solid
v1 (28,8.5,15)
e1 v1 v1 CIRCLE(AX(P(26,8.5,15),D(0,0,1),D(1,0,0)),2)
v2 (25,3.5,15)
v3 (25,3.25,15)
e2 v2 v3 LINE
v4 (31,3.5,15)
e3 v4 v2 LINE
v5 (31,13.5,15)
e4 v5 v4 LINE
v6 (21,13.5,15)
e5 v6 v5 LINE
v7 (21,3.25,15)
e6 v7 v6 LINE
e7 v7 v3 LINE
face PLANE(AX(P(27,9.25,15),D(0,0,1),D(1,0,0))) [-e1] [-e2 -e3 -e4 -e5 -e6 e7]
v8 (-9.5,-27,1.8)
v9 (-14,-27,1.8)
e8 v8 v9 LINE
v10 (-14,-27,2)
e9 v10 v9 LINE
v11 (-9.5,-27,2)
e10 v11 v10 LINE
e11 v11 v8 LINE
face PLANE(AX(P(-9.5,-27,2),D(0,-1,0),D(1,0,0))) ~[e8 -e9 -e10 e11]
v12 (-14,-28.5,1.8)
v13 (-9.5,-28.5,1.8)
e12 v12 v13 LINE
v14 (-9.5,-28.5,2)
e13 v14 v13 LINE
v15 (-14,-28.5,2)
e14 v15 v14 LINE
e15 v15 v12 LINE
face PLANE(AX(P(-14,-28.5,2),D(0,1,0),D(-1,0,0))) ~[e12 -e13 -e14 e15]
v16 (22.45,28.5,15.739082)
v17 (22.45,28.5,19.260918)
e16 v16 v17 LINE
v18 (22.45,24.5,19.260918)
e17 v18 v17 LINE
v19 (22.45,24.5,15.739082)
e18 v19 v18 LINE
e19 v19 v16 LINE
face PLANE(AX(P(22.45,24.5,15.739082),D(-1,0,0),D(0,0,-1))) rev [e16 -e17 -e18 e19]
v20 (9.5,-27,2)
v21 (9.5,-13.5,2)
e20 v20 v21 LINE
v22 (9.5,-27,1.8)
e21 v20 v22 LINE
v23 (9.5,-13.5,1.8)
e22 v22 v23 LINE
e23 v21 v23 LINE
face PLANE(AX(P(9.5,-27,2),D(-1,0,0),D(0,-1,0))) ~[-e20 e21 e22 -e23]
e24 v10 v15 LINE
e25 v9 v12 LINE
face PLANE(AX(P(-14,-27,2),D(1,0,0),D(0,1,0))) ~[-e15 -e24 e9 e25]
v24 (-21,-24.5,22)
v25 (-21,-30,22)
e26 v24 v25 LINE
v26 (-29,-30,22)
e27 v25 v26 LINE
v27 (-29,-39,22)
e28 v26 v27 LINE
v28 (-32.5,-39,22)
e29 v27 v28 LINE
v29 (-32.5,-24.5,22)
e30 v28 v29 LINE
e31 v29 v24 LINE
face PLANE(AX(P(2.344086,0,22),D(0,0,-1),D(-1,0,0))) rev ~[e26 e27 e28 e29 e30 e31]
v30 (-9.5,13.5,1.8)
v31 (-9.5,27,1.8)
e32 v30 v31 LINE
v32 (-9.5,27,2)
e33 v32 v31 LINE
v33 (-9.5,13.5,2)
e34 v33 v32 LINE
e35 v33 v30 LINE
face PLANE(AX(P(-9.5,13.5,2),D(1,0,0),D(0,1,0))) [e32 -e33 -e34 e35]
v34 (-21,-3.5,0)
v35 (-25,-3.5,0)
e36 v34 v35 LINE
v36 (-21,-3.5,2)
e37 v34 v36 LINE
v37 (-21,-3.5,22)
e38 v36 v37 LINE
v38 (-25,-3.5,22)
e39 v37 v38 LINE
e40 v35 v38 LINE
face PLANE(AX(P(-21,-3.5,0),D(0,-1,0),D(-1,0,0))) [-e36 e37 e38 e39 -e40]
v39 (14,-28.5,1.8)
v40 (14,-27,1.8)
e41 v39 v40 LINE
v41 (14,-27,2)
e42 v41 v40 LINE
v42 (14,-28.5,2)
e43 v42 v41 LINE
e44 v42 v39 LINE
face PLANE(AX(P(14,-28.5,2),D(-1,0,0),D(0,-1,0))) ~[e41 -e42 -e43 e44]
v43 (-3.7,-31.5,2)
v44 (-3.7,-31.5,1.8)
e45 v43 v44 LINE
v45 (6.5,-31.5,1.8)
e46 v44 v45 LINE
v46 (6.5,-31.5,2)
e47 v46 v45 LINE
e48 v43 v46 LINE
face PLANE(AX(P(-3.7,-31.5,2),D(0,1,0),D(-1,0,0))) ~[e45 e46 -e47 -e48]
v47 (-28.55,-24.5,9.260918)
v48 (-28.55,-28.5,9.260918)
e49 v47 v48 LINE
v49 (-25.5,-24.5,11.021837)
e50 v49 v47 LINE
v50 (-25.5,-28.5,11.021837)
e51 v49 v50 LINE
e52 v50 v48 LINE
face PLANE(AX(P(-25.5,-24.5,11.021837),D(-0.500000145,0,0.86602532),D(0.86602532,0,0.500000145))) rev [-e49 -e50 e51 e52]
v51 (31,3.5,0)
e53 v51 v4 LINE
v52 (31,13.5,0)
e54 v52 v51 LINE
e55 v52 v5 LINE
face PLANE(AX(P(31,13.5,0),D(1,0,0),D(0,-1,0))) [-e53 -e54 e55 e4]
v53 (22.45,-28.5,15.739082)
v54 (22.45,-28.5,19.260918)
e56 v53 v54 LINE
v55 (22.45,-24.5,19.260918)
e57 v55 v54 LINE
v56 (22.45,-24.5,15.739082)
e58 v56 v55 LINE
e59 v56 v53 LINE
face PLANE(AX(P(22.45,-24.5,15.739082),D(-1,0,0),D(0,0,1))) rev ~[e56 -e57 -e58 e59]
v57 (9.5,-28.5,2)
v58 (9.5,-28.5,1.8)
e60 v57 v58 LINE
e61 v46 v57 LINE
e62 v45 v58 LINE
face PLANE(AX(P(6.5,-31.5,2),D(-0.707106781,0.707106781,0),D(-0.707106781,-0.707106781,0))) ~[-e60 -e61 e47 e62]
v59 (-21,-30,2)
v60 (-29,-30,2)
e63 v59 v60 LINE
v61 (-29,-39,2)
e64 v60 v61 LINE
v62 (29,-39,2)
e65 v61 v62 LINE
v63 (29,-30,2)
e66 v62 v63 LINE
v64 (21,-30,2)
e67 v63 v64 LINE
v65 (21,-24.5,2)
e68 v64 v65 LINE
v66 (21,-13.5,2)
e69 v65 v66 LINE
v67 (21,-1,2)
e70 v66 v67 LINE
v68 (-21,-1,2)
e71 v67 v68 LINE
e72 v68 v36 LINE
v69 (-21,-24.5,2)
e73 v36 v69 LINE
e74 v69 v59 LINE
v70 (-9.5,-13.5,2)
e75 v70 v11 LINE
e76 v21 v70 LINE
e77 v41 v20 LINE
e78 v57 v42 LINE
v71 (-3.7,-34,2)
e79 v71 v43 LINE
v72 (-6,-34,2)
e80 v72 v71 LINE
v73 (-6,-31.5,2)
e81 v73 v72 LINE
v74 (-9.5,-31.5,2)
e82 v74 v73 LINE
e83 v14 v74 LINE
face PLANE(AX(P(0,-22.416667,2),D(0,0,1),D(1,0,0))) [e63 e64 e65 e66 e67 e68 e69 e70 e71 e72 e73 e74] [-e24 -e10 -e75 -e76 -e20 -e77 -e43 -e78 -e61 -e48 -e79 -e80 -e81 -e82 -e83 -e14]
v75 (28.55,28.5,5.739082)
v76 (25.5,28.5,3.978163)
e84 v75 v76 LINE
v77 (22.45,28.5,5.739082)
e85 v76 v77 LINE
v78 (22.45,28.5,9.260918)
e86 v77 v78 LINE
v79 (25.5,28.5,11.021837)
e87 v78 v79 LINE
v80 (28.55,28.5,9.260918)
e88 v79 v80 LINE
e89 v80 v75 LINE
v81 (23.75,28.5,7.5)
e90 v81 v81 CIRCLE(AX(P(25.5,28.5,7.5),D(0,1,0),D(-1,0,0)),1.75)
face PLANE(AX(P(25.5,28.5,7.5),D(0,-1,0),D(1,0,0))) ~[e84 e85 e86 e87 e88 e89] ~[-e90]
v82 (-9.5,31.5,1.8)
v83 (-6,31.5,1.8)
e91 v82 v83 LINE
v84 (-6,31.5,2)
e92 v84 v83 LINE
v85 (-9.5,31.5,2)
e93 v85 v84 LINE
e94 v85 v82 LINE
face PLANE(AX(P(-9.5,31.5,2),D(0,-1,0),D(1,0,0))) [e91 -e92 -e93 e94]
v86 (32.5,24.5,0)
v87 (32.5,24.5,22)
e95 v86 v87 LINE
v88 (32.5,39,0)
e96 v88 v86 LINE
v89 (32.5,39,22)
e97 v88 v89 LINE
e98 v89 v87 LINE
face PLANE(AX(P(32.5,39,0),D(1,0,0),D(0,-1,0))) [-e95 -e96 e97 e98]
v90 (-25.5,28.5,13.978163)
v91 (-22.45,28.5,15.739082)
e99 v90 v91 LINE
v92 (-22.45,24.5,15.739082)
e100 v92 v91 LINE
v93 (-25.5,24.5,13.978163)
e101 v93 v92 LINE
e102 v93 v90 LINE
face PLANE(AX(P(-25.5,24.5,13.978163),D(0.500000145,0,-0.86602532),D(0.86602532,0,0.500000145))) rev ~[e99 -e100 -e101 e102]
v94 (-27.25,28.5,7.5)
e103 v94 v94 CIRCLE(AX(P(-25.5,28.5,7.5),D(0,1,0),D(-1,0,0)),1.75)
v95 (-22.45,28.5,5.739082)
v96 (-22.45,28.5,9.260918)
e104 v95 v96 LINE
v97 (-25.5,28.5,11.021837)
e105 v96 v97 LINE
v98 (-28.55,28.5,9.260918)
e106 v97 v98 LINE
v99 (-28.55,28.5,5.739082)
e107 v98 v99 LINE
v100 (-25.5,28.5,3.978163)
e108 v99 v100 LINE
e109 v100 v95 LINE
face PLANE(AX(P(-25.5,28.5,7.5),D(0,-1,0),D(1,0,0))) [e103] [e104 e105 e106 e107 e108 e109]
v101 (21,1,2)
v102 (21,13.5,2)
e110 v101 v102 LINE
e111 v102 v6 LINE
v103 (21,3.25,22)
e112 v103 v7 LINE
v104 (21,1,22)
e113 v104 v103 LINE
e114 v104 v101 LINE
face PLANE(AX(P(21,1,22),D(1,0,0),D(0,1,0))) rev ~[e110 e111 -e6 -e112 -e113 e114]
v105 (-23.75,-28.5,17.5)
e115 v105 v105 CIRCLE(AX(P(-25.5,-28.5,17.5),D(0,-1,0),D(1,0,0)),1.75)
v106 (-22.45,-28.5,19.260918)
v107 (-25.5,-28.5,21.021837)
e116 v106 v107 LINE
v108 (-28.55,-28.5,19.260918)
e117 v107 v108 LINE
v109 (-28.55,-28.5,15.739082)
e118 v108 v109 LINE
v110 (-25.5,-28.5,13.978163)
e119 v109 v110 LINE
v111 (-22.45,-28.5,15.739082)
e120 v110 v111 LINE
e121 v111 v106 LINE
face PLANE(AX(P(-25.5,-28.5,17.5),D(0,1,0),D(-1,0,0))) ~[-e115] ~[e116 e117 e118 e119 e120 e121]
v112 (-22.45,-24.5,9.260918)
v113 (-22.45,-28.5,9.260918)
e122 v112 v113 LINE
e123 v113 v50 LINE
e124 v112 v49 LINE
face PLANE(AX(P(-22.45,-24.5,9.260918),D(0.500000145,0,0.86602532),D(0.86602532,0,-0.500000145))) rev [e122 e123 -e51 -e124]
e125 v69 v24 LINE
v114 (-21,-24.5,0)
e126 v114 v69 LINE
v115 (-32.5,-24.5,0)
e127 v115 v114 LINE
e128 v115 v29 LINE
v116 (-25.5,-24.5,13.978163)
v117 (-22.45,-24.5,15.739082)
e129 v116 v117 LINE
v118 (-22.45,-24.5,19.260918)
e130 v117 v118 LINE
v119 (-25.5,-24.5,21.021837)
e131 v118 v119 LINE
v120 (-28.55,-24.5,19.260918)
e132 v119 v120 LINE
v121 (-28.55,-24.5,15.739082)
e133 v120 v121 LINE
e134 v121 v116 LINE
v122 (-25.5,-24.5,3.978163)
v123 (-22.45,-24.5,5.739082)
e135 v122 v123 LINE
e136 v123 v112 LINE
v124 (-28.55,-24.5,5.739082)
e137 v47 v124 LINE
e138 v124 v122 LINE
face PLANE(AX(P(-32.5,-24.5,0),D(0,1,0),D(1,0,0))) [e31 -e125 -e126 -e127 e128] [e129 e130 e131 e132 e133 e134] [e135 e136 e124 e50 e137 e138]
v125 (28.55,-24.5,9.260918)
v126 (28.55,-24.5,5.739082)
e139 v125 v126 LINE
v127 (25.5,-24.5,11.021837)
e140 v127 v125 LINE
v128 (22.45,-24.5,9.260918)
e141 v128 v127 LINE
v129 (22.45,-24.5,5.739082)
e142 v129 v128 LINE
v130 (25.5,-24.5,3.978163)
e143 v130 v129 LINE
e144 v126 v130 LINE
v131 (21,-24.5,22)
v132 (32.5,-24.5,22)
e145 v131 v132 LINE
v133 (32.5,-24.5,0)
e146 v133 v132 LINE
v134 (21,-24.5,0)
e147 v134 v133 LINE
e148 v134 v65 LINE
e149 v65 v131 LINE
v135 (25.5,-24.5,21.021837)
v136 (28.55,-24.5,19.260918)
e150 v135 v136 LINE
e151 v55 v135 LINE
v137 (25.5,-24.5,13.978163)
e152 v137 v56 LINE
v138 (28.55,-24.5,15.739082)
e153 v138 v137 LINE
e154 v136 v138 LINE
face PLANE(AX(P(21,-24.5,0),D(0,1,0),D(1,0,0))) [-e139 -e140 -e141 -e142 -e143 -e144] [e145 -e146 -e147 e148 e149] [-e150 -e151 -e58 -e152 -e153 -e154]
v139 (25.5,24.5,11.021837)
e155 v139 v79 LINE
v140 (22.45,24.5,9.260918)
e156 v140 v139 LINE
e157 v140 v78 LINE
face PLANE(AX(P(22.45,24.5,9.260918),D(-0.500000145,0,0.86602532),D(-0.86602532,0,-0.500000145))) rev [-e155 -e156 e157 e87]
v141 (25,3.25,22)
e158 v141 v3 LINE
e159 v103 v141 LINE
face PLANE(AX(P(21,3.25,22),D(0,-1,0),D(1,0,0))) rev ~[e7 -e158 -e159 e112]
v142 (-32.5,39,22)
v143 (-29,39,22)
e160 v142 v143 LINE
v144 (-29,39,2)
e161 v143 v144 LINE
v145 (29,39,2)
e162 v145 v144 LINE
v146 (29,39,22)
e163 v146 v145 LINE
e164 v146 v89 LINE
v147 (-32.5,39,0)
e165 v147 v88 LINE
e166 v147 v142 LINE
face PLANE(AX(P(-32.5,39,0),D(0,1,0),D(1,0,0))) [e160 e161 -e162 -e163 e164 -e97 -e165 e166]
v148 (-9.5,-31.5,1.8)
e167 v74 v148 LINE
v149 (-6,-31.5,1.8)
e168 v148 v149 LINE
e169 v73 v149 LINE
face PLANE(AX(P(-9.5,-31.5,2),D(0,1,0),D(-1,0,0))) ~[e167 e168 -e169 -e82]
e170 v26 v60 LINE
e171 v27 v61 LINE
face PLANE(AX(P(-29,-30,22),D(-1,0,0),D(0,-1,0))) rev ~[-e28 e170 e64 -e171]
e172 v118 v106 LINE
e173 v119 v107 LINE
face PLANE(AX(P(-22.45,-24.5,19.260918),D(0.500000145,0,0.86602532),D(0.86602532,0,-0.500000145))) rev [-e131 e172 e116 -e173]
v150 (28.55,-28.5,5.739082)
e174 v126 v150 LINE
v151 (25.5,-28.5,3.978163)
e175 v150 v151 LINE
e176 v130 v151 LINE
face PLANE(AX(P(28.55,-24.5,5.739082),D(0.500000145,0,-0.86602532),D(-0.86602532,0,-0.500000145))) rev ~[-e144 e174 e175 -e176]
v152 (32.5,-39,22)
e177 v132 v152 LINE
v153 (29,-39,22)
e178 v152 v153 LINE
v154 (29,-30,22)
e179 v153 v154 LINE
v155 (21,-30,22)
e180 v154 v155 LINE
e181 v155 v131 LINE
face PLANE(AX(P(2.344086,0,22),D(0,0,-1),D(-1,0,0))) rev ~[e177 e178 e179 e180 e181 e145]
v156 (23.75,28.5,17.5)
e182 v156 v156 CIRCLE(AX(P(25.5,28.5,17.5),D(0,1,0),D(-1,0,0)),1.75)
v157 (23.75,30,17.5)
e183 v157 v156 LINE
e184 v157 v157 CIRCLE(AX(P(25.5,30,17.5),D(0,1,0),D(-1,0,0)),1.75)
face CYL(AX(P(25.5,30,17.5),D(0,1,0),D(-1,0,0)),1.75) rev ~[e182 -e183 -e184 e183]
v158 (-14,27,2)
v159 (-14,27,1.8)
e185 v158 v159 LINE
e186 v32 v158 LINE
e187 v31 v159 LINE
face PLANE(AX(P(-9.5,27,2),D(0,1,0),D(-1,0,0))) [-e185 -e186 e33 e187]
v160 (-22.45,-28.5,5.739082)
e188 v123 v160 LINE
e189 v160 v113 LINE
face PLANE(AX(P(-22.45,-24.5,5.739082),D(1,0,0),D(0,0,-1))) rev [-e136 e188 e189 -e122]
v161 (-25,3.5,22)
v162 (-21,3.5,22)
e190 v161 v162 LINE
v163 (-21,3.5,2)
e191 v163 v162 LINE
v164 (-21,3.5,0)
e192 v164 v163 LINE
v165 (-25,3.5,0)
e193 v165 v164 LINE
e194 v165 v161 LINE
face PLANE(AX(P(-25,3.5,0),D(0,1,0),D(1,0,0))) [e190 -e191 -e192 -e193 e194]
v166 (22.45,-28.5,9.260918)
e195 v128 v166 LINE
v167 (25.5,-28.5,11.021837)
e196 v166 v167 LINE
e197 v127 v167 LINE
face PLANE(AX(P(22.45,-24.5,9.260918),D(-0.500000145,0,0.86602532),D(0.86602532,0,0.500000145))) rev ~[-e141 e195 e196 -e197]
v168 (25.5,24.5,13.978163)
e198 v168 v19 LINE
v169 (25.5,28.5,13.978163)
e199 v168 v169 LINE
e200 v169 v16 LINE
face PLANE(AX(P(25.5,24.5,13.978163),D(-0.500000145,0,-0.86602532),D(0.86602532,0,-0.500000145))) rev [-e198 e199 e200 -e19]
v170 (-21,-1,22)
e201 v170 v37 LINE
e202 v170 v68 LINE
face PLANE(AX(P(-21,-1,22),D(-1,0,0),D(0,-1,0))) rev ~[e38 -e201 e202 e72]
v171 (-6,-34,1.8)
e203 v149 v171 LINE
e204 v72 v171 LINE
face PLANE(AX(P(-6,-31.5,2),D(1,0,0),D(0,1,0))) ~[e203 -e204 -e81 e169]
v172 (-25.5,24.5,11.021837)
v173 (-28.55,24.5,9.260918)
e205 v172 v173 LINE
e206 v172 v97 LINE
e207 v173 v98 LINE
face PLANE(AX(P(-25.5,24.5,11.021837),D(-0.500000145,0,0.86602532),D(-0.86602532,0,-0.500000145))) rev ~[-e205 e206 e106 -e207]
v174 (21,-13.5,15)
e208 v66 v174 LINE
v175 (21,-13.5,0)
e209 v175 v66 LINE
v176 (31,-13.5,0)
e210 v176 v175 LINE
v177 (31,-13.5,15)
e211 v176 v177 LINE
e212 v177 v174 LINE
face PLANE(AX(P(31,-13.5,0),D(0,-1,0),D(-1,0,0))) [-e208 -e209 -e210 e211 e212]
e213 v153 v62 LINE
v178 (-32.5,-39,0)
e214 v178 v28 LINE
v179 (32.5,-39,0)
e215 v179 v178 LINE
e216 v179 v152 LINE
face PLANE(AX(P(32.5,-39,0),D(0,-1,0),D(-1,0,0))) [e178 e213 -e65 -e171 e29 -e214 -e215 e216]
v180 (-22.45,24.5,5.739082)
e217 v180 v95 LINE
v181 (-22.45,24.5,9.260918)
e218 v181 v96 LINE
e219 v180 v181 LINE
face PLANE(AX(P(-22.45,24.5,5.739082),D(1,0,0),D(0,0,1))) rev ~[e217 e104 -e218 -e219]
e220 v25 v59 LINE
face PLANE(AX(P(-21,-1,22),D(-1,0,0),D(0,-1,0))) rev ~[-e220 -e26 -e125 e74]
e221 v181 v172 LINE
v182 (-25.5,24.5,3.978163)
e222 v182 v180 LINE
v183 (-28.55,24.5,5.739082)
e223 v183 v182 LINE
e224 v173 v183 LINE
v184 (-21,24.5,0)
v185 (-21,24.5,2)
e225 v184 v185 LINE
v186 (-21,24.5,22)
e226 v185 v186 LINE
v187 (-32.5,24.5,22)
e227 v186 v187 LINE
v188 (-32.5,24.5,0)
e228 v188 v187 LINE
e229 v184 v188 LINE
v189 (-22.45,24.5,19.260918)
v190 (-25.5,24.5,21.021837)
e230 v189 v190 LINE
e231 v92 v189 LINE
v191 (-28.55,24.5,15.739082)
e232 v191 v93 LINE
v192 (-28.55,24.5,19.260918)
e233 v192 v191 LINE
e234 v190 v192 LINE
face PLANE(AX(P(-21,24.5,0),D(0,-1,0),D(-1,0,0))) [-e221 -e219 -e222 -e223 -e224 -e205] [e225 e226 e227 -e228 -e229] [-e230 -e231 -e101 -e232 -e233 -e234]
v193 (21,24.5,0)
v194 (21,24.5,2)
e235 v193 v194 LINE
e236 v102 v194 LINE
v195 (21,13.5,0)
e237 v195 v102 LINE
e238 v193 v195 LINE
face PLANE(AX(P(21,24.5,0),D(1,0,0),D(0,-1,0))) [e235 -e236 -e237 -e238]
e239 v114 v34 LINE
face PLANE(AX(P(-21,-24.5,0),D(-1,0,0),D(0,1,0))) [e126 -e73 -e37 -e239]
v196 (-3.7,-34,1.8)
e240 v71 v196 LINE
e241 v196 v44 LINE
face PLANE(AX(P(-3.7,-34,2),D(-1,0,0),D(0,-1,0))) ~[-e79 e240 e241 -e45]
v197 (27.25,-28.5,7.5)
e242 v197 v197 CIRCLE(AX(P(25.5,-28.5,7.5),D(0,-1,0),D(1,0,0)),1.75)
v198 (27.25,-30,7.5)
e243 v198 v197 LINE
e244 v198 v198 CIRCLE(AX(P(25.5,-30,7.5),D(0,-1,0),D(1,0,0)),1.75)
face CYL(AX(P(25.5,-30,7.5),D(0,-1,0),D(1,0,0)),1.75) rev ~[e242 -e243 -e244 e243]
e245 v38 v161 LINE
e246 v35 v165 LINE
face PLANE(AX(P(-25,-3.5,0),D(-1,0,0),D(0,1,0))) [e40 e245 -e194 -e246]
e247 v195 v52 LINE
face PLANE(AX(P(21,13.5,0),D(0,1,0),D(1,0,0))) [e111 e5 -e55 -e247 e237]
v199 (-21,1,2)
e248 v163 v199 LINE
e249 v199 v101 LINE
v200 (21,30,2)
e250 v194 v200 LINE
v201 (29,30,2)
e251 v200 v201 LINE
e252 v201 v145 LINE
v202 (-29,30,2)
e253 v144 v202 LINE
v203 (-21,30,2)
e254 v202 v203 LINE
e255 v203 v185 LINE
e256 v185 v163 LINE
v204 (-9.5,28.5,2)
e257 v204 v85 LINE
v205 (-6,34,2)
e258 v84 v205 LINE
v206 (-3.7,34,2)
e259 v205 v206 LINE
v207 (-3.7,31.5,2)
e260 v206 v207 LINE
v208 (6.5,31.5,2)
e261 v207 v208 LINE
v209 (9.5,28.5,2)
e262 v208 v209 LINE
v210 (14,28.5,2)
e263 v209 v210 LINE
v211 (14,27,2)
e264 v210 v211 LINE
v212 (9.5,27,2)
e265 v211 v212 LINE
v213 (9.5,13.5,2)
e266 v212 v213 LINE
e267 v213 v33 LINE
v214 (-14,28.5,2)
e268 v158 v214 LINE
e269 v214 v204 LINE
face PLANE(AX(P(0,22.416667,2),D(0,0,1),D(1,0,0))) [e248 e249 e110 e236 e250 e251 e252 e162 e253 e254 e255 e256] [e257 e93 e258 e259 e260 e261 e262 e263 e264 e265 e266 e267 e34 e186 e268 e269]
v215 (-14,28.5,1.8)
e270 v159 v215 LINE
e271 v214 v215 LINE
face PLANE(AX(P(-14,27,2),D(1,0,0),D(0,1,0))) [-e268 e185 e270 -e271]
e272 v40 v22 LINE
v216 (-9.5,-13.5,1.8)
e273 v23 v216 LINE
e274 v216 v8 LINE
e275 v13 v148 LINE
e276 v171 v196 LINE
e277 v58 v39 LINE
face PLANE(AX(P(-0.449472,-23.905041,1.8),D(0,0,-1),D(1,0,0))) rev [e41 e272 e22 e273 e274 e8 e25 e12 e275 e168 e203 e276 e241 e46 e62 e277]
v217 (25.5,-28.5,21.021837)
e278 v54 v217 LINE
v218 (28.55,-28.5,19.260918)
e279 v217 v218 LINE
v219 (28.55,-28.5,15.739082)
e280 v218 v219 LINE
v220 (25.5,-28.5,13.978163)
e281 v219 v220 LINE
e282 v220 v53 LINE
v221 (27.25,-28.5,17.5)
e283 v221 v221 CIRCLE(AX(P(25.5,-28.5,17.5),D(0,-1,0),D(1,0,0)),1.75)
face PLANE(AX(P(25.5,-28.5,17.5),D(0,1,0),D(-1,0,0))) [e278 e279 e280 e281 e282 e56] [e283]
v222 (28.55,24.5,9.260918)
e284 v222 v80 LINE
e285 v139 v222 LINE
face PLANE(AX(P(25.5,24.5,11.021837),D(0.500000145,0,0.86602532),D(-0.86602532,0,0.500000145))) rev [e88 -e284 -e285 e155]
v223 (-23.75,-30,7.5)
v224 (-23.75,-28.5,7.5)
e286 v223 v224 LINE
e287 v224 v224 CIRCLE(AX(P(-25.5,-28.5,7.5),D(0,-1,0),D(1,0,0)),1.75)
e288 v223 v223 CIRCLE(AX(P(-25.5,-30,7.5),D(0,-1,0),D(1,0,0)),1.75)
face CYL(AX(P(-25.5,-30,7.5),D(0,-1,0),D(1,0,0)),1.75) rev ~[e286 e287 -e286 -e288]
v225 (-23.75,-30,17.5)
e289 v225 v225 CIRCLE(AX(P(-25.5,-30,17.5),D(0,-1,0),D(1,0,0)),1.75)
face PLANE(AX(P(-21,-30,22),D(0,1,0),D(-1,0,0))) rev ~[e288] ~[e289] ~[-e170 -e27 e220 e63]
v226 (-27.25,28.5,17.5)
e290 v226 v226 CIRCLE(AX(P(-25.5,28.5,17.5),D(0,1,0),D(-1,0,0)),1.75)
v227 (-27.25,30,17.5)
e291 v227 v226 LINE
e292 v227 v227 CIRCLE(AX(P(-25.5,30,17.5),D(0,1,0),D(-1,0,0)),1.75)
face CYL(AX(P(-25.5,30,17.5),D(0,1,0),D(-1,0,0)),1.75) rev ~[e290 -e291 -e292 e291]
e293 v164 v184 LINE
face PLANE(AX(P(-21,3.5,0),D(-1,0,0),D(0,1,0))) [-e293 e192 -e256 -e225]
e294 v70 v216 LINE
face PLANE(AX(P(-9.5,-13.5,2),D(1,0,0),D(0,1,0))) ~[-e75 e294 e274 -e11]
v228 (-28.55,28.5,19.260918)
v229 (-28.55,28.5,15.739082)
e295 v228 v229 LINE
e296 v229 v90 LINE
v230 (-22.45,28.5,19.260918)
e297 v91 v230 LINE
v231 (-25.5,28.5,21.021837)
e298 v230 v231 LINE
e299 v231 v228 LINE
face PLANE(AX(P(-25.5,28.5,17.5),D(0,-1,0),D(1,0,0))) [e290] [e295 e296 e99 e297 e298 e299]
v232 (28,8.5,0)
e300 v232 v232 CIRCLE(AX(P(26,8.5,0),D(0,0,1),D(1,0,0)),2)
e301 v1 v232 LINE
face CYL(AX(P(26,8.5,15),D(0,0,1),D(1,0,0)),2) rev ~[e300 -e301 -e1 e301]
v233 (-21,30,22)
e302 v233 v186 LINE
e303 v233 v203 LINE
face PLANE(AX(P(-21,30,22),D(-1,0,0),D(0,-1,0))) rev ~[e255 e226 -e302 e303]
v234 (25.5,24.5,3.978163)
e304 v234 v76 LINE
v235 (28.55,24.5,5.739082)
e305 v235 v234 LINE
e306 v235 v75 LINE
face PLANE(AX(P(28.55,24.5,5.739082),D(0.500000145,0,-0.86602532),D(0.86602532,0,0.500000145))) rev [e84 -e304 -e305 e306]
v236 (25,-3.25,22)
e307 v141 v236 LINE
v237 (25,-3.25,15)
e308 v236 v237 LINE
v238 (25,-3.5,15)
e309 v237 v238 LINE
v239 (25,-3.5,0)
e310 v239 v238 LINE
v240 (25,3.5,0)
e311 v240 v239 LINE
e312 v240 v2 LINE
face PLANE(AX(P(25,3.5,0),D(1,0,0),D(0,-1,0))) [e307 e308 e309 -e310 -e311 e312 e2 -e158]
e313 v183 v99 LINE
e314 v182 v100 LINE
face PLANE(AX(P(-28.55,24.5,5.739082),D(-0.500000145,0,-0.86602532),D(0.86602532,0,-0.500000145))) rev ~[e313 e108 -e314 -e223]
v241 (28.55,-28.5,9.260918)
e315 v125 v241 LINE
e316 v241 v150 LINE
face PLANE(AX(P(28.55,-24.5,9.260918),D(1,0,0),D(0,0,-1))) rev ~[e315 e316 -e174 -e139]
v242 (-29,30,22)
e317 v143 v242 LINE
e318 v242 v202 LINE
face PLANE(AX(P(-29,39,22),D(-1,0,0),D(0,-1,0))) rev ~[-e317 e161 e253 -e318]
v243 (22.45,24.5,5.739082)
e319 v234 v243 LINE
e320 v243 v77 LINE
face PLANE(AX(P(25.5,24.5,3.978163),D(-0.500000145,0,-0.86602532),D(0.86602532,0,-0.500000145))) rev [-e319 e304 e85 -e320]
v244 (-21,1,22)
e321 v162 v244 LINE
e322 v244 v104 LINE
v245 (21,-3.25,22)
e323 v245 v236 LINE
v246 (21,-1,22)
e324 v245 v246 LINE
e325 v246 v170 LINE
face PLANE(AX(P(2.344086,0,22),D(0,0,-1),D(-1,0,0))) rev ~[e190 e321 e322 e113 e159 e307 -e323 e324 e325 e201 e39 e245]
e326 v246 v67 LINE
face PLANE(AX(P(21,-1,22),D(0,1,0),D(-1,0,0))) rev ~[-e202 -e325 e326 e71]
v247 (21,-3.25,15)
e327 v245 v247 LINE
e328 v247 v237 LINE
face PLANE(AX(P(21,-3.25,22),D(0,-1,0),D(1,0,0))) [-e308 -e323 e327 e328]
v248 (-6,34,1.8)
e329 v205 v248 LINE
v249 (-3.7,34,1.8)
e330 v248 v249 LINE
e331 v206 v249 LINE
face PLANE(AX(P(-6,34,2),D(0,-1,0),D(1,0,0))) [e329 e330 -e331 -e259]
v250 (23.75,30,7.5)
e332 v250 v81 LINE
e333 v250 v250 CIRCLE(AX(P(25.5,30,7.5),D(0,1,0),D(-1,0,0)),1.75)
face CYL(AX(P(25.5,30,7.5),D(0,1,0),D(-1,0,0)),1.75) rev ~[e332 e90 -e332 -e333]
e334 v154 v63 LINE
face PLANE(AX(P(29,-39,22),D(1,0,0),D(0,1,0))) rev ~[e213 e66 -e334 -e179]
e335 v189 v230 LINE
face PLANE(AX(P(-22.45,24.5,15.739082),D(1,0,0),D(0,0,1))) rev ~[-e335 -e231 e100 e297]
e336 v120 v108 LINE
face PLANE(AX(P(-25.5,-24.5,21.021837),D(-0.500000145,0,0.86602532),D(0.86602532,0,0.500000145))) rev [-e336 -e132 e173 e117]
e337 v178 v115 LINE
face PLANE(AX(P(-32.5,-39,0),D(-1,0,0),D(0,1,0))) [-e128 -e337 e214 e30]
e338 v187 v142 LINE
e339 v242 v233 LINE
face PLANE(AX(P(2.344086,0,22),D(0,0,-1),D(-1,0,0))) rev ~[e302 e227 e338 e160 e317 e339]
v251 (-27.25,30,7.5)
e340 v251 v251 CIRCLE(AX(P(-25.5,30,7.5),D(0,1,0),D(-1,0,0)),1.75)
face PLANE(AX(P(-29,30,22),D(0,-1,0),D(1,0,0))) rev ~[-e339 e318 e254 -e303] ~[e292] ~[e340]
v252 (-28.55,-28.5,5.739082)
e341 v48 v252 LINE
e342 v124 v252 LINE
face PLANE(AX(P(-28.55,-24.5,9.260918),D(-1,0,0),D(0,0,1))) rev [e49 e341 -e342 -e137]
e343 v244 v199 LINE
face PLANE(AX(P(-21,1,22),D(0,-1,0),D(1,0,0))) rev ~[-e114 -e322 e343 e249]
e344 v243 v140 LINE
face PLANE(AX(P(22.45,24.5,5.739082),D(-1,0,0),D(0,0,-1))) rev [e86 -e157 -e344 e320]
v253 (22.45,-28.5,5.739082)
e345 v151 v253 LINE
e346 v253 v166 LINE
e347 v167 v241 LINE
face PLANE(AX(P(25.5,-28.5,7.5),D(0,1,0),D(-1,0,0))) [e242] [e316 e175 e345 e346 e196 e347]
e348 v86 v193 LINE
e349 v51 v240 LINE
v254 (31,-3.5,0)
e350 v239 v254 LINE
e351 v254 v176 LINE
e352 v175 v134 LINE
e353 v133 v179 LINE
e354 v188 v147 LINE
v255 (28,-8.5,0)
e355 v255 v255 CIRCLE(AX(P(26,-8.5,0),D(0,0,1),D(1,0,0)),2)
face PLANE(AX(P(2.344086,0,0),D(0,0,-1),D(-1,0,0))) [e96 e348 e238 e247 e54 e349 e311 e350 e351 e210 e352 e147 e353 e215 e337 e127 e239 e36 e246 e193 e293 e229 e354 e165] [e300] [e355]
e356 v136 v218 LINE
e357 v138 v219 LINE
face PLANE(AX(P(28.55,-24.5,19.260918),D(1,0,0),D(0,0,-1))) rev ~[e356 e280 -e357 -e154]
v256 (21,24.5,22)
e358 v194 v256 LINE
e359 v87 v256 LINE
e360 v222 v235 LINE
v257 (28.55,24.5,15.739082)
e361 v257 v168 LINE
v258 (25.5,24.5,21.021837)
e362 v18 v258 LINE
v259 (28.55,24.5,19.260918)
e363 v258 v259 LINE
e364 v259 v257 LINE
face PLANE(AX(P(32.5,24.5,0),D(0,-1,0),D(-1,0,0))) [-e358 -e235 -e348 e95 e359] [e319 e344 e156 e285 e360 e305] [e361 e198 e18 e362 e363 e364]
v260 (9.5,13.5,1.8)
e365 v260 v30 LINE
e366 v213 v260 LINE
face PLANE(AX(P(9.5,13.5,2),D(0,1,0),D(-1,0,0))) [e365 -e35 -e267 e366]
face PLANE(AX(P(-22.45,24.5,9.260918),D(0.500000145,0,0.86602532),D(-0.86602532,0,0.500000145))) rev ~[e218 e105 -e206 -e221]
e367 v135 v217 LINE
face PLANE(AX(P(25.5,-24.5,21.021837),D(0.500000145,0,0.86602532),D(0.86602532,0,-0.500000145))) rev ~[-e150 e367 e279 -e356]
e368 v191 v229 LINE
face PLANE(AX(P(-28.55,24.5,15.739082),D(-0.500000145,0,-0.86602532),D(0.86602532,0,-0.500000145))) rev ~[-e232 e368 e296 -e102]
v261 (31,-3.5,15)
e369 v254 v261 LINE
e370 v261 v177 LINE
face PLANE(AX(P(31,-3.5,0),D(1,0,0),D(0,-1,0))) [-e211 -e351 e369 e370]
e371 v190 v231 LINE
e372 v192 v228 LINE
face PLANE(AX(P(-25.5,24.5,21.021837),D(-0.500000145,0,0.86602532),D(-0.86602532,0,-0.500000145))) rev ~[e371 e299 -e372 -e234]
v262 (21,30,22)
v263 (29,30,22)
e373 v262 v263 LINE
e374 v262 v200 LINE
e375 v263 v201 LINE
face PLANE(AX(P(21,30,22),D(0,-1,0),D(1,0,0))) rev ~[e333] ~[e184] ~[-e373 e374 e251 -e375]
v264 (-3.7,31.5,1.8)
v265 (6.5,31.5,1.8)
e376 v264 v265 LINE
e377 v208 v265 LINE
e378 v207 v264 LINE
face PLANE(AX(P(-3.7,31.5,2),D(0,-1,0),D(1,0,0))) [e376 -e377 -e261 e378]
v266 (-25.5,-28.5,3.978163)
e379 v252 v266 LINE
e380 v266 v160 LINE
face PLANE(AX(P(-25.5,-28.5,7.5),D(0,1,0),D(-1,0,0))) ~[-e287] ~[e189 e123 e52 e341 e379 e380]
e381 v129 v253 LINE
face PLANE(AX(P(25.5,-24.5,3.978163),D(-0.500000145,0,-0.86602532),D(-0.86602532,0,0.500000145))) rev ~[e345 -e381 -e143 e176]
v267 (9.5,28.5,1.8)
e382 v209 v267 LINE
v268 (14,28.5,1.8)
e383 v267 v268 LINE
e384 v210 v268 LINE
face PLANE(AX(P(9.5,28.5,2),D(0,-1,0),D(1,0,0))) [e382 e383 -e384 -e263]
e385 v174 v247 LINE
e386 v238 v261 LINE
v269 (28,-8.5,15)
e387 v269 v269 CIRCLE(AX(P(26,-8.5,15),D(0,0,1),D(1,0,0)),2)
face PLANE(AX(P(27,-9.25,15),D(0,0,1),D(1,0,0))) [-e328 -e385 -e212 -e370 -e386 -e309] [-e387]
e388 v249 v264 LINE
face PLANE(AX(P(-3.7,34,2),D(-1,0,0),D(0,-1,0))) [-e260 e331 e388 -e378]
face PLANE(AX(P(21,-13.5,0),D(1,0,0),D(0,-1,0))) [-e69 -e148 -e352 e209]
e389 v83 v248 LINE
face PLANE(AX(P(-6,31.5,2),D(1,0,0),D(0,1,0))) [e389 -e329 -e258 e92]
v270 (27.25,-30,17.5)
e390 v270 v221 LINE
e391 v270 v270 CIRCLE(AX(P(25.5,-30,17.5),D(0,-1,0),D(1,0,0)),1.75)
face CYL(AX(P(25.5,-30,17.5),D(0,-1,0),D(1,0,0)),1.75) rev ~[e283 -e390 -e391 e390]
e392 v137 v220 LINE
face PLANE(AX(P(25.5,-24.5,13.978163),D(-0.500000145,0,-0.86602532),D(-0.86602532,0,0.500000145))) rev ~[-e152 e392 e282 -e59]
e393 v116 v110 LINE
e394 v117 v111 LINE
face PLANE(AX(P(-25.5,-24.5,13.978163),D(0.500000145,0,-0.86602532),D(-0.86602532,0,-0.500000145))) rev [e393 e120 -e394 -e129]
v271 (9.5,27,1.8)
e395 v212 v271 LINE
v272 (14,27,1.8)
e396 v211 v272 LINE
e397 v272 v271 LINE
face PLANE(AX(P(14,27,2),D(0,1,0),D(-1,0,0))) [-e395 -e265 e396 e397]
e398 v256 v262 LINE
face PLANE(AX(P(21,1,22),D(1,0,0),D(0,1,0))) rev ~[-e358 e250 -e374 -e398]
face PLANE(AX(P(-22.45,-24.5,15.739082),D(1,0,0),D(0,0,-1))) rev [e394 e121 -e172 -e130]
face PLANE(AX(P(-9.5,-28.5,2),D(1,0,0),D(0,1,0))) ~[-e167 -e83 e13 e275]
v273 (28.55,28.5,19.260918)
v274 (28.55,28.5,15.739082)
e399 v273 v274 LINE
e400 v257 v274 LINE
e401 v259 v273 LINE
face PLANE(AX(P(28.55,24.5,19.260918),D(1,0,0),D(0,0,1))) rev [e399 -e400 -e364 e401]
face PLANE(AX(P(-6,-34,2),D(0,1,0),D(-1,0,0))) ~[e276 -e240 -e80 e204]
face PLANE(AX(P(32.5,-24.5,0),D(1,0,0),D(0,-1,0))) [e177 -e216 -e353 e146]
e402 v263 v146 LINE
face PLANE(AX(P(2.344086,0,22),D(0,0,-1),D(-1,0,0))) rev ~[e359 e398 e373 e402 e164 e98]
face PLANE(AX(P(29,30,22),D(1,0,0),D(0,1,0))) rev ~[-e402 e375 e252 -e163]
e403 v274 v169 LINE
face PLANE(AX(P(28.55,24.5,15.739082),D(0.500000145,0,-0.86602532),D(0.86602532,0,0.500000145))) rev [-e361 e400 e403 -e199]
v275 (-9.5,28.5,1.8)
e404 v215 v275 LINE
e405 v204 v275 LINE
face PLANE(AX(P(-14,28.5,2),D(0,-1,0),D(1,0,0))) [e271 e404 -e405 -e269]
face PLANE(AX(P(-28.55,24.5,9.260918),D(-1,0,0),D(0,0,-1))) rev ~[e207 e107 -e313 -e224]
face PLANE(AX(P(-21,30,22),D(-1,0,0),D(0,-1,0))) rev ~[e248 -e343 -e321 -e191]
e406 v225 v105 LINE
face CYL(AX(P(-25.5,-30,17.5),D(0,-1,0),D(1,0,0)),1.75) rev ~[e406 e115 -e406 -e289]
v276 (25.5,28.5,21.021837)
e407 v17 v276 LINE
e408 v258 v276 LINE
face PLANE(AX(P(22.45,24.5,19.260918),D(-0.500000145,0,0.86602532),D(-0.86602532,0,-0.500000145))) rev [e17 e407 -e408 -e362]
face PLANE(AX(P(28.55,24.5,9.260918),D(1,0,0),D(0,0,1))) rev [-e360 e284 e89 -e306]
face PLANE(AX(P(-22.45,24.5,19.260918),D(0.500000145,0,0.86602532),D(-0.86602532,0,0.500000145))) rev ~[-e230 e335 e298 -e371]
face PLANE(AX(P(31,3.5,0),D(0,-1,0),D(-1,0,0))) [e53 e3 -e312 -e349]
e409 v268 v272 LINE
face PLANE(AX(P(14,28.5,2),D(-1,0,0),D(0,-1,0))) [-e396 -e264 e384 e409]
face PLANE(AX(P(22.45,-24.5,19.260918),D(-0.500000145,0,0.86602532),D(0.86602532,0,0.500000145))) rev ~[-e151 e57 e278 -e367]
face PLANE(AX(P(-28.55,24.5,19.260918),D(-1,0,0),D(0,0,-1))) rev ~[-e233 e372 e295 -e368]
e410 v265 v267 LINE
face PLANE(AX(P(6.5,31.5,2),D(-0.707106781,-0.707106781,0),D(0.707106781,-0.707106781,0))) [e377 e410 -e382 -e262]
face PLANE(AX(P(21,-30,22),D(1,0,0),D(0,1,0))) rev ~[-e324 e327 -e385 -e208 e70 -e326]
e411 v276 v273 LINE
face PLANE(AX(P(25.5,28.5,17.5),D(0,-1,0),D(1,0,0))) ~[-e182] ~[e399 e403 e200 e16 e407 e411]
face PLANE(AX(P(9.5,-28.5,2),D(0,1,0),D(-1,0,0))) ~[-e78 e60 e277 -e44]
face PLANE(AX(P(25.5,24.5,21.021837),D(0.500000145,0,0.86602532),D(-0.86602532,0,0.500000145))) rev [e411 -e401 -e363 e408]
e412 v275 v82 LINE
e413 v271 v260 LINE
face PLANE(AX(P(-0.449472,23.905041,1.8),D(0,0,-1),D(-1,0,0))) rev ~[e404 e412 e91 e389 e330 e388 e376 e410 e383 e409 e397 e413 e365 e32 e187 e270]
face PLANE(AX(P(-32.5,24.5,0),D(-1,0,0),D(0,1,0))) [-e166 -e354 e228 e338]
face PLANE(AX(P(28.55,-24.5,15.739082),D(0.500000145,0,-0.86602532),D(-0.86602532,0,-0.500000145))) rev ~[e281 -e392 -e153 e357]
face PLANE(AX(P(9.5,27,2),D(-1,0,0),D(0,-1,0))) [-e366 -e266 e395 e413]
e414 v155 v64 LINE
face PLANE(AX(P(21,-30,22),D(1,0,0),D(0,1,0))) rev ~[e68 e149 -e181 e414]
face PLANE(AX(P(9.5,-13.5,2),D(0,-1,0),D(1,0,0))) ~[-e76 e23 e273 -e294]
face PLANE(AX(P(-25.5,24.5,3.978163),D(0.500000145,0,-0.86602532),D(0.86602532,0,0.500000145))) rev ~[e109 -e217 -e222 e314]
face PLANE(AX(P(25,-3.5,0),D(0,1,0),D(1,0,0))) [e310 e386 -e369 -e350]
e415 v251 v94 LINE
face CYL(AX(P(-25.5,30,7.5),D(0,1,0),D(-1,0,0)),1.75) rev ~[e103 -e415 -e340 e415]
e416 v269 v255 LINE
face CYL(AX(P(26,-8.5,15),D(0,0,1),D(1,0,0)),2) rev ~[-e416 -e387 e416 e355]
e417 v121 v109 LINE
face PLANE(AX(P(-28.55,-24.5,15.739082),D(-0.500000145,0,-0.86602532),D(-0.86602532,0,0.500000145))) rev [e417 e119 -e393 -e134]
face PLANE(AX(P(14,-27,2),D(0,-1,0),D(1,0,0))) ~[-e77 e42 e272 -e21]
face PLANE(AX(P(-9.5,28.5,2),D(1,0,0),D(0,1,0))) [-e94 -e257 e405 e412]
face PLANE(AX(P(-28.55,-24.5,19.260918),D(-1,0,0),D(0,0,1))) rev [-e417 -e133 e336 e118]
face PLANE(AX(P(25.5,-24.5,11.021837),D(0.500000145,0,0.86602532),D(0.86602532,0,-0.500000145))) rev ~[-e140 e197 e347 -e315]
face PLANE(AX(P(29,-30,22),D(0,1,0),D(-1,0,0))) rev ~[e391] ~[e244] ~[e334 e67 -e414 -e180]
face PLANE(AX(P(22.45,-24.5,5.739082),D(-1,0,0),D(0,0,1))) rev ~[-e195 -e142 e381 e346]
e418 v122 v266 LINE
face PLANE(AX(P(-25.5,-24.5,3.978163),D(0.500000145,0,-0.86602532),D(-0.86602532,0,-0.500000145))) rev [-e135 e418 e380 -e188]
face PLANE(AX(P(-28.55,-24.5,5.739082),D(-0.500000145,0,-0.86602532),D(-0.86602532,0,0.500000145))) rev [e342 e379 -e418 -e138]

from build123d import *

# Parameters (mm, degrees)
PAD_DEPTH       = 22
POCKET_DEPTH    = 20
SKETCH002_W     = 12
SKETCH002_H     = 12
POCKET001_DEPTH = 7
SKETCH003_R     = 2
POCKET002_DEPTH = 15.001
SKETCH004_R     = 1.75
POCKET003_DEPTH = 6
SKETCH005_R     = 1.75
POCKET004_DEPTH = 6
POCKET005_DEPTH = 4
POCKET006_DEPTH = 4
POCKET007_DEPTH = 0.2


with BuildPart() as part:
    # Sketch → Pad (new body)
    with BuildSketch(Plane.XY):
        Polygon((-32.5, -39), (-32.5, -24.5), (-21, -24.5), (-21, -3.5), (-25, -3.5), (-25, 3.5), (-21, 3.5), (-21, 24.5), (-32.5, 24.5), (-32.5, 39), (32.5, 39), (32.5, 24.5), (21, 24.5), (21, 13.5), (31, 13.5), (31, 3.5), (25, 3.5), (25, -3.5), (31, -3.5), (31, -13.5), (21, -13.5), (21, -24.5), (32.5, -24.5), (32.5, -39), align=None)
    extrude(amount=PAD_DEPTH)

    # Sketch001 → Pocket (cut)
    with BuildSketch(Plane.XY.offset(22)):
        Polygon((-29, 39), (-29, 30), (-21, 30), (-21, 1), (21, 1), (21, 30), (29, 30), (29, 39), align=None)
        Polygon((21, -1), (-21, -1), (-21, -30), (-29, -30), (-29, -39), (29, -39), (29, -30), (21, -30), align=None)
    extrude(amount=-POCKET_DEPTH, mode=Mode.SUBTRACT)

    # Sketch002 → Pocket001 (cut)
    with BuildSketch(Plane.XY.offset(22)):
        with Locations((27, 9.25)):
            Rectangle(SKETCH002_W, SKETCH002_H)
        with Locations((27, -9.25)):
            Rectangle(SKETCH002_W, SKETCH002_H)
    extrude(amount=-POCKET001_DEPTH, mode=Mode.SUBTRACT)

    # Sketch003 → Pocket002 (cut, through all)
    with BuildSketch(Plane.XY.offset(15)):
        with Locations((26, 8.5)):
            Circle(SKETCH003_R)
        with Locations((26, -8.5)):
            Circle(SKETCH003_R)
    extrude(amount=-POCKET002_DEPTH, mode=Mode.SUBTRACT)

    # Sketch004 → Pocket003 (cut)
    with BuildSketch(Plane.XZ.offset(30)):
        with Locations((-25.5, 17.5)):
            Circle(SKETCH004_R)
        with Locations((-25.5, 7.5)):
            Circle(SKETCH004_R)
        with Locations((25.5, 17.5)):
            Circle(SKETCH004_R)
        with Locations((25.5, 7.5)):
            Circle(SKETCH004_R)
    extrude(amount=-POCKET003_DEPTH, mode=Mode.SUBTRACT)

    # Sketch005 → Pocket004 (cut)
    with BuildSketch(Plane(origin=(0, 30, 0), x_dir=(-1, 0, 0), z_dir=(0, 1, 0))):
        with Locations((-25.5, 17.5)):
            Circle(SKETCH005_R)
        with Locations((-25.5, 7.5)):
            Circle(SKETCH005_R)
        with Locations((25.5, 17.5)):
            Circle(SKETCH005_R)
        with Locations((25.5, 7.5)):
            Circle(SKETCH005_R)
    extrude(amount=-POCKET004_DEPTH, mode=Mode.SUBTRACT)

    # Sketch007 → Pocket005 (cut)
    with BuildSketch(Plane.XZ.offset(-24.5)):
        Polygon((-25.5, 21.021837), (-28.55, 19.260918), (-28.55, 15.739082), (-25.5, 13.978163), (-22.45, 15.739082), (-22.45, 19.260918), align=None)
        Polygon((-25.5, 11.021837), (-28.55, 9.260918), (-28.55, 5.739082), (-25.5, 3.978163), (-22.45, 5.739082), (-22.45, 9.260918), align=None)
    pocket005 = extrude(amount=-POCKET005_DEPTH, mode=Mode.SUBTRACT)

    # Mirrored: Pocket005 across Sketch007 V_Axis
    add(pocket005.mirror(Plane(origin=(0, 24.5, 0), x_dir=(0, -1, 0), z_dir=(1, 0, 0))), mode=Mode.SUBTRACT)

    # Sketch006 → Pocket006 (cut)
    with BuildSketch(Plane(origin=(0, -24.5, 0), x_dir=(-1, 0, 0), z_dir=(0, 1, 0))):
        Polygon((-25.5, 21.021837), (-28.55, 19.260918), (-28.55, 15.739082), (-25.5, 13.978163), (-22.45, 15.739082), (-22.45, 19.260918), align=None)
        Polygon((-25.5, 11.021837), (-28.55, 9.260918), (-28.55, 5.739082), (-25.5, 3.978163), (-22.45, 5.739082), (-22.45, 9.260918), align=None)
    pocket006 = extrude(amount=-POCKET006_DEPTH, mode=Mode.SUBTRACT)

    # Mirrored001: Pocket006 across Sketch006 V_Axis
    add(pocket006.mirror(Plane(origin=(0, -24.5, 0), x_dir=(0, 1, 0), z_dir=(-1, 0, 0))), mode=Mode.SUBTRACT)

    # Sketch008 → Pocket007 (cut)
    with BuildSketch(Plane.XY.offset(2)):
        Polygon((9.5, 13.5), (-9.5, 13.5), (-9.5, 27), (-14, 27), (-14, 28.5), (-9.5, 28.5), (-9.5, 31.5), (-6, 31.5), (-6, 34), (-3.7, 34), (-3.7, 31.5), (6.5, 31.5), (9.5, 28.5), (14, 28.5), (14, 27), (9.5, 27), align=None)
    pocket007 = extrude(amount=-POCKET007_DEPTH, mode=Mode.SUBTRACT)

    # Mirrored002: Pocket007 across Sketch008 H_Axis
    add(pocket007.mirror(Plane(origin=(0, 0, 2), x_dir=(0, 0, 1), z_dir=(0, 1, 0))), mode=Mode.SUBTRACT)


solid = part.part
